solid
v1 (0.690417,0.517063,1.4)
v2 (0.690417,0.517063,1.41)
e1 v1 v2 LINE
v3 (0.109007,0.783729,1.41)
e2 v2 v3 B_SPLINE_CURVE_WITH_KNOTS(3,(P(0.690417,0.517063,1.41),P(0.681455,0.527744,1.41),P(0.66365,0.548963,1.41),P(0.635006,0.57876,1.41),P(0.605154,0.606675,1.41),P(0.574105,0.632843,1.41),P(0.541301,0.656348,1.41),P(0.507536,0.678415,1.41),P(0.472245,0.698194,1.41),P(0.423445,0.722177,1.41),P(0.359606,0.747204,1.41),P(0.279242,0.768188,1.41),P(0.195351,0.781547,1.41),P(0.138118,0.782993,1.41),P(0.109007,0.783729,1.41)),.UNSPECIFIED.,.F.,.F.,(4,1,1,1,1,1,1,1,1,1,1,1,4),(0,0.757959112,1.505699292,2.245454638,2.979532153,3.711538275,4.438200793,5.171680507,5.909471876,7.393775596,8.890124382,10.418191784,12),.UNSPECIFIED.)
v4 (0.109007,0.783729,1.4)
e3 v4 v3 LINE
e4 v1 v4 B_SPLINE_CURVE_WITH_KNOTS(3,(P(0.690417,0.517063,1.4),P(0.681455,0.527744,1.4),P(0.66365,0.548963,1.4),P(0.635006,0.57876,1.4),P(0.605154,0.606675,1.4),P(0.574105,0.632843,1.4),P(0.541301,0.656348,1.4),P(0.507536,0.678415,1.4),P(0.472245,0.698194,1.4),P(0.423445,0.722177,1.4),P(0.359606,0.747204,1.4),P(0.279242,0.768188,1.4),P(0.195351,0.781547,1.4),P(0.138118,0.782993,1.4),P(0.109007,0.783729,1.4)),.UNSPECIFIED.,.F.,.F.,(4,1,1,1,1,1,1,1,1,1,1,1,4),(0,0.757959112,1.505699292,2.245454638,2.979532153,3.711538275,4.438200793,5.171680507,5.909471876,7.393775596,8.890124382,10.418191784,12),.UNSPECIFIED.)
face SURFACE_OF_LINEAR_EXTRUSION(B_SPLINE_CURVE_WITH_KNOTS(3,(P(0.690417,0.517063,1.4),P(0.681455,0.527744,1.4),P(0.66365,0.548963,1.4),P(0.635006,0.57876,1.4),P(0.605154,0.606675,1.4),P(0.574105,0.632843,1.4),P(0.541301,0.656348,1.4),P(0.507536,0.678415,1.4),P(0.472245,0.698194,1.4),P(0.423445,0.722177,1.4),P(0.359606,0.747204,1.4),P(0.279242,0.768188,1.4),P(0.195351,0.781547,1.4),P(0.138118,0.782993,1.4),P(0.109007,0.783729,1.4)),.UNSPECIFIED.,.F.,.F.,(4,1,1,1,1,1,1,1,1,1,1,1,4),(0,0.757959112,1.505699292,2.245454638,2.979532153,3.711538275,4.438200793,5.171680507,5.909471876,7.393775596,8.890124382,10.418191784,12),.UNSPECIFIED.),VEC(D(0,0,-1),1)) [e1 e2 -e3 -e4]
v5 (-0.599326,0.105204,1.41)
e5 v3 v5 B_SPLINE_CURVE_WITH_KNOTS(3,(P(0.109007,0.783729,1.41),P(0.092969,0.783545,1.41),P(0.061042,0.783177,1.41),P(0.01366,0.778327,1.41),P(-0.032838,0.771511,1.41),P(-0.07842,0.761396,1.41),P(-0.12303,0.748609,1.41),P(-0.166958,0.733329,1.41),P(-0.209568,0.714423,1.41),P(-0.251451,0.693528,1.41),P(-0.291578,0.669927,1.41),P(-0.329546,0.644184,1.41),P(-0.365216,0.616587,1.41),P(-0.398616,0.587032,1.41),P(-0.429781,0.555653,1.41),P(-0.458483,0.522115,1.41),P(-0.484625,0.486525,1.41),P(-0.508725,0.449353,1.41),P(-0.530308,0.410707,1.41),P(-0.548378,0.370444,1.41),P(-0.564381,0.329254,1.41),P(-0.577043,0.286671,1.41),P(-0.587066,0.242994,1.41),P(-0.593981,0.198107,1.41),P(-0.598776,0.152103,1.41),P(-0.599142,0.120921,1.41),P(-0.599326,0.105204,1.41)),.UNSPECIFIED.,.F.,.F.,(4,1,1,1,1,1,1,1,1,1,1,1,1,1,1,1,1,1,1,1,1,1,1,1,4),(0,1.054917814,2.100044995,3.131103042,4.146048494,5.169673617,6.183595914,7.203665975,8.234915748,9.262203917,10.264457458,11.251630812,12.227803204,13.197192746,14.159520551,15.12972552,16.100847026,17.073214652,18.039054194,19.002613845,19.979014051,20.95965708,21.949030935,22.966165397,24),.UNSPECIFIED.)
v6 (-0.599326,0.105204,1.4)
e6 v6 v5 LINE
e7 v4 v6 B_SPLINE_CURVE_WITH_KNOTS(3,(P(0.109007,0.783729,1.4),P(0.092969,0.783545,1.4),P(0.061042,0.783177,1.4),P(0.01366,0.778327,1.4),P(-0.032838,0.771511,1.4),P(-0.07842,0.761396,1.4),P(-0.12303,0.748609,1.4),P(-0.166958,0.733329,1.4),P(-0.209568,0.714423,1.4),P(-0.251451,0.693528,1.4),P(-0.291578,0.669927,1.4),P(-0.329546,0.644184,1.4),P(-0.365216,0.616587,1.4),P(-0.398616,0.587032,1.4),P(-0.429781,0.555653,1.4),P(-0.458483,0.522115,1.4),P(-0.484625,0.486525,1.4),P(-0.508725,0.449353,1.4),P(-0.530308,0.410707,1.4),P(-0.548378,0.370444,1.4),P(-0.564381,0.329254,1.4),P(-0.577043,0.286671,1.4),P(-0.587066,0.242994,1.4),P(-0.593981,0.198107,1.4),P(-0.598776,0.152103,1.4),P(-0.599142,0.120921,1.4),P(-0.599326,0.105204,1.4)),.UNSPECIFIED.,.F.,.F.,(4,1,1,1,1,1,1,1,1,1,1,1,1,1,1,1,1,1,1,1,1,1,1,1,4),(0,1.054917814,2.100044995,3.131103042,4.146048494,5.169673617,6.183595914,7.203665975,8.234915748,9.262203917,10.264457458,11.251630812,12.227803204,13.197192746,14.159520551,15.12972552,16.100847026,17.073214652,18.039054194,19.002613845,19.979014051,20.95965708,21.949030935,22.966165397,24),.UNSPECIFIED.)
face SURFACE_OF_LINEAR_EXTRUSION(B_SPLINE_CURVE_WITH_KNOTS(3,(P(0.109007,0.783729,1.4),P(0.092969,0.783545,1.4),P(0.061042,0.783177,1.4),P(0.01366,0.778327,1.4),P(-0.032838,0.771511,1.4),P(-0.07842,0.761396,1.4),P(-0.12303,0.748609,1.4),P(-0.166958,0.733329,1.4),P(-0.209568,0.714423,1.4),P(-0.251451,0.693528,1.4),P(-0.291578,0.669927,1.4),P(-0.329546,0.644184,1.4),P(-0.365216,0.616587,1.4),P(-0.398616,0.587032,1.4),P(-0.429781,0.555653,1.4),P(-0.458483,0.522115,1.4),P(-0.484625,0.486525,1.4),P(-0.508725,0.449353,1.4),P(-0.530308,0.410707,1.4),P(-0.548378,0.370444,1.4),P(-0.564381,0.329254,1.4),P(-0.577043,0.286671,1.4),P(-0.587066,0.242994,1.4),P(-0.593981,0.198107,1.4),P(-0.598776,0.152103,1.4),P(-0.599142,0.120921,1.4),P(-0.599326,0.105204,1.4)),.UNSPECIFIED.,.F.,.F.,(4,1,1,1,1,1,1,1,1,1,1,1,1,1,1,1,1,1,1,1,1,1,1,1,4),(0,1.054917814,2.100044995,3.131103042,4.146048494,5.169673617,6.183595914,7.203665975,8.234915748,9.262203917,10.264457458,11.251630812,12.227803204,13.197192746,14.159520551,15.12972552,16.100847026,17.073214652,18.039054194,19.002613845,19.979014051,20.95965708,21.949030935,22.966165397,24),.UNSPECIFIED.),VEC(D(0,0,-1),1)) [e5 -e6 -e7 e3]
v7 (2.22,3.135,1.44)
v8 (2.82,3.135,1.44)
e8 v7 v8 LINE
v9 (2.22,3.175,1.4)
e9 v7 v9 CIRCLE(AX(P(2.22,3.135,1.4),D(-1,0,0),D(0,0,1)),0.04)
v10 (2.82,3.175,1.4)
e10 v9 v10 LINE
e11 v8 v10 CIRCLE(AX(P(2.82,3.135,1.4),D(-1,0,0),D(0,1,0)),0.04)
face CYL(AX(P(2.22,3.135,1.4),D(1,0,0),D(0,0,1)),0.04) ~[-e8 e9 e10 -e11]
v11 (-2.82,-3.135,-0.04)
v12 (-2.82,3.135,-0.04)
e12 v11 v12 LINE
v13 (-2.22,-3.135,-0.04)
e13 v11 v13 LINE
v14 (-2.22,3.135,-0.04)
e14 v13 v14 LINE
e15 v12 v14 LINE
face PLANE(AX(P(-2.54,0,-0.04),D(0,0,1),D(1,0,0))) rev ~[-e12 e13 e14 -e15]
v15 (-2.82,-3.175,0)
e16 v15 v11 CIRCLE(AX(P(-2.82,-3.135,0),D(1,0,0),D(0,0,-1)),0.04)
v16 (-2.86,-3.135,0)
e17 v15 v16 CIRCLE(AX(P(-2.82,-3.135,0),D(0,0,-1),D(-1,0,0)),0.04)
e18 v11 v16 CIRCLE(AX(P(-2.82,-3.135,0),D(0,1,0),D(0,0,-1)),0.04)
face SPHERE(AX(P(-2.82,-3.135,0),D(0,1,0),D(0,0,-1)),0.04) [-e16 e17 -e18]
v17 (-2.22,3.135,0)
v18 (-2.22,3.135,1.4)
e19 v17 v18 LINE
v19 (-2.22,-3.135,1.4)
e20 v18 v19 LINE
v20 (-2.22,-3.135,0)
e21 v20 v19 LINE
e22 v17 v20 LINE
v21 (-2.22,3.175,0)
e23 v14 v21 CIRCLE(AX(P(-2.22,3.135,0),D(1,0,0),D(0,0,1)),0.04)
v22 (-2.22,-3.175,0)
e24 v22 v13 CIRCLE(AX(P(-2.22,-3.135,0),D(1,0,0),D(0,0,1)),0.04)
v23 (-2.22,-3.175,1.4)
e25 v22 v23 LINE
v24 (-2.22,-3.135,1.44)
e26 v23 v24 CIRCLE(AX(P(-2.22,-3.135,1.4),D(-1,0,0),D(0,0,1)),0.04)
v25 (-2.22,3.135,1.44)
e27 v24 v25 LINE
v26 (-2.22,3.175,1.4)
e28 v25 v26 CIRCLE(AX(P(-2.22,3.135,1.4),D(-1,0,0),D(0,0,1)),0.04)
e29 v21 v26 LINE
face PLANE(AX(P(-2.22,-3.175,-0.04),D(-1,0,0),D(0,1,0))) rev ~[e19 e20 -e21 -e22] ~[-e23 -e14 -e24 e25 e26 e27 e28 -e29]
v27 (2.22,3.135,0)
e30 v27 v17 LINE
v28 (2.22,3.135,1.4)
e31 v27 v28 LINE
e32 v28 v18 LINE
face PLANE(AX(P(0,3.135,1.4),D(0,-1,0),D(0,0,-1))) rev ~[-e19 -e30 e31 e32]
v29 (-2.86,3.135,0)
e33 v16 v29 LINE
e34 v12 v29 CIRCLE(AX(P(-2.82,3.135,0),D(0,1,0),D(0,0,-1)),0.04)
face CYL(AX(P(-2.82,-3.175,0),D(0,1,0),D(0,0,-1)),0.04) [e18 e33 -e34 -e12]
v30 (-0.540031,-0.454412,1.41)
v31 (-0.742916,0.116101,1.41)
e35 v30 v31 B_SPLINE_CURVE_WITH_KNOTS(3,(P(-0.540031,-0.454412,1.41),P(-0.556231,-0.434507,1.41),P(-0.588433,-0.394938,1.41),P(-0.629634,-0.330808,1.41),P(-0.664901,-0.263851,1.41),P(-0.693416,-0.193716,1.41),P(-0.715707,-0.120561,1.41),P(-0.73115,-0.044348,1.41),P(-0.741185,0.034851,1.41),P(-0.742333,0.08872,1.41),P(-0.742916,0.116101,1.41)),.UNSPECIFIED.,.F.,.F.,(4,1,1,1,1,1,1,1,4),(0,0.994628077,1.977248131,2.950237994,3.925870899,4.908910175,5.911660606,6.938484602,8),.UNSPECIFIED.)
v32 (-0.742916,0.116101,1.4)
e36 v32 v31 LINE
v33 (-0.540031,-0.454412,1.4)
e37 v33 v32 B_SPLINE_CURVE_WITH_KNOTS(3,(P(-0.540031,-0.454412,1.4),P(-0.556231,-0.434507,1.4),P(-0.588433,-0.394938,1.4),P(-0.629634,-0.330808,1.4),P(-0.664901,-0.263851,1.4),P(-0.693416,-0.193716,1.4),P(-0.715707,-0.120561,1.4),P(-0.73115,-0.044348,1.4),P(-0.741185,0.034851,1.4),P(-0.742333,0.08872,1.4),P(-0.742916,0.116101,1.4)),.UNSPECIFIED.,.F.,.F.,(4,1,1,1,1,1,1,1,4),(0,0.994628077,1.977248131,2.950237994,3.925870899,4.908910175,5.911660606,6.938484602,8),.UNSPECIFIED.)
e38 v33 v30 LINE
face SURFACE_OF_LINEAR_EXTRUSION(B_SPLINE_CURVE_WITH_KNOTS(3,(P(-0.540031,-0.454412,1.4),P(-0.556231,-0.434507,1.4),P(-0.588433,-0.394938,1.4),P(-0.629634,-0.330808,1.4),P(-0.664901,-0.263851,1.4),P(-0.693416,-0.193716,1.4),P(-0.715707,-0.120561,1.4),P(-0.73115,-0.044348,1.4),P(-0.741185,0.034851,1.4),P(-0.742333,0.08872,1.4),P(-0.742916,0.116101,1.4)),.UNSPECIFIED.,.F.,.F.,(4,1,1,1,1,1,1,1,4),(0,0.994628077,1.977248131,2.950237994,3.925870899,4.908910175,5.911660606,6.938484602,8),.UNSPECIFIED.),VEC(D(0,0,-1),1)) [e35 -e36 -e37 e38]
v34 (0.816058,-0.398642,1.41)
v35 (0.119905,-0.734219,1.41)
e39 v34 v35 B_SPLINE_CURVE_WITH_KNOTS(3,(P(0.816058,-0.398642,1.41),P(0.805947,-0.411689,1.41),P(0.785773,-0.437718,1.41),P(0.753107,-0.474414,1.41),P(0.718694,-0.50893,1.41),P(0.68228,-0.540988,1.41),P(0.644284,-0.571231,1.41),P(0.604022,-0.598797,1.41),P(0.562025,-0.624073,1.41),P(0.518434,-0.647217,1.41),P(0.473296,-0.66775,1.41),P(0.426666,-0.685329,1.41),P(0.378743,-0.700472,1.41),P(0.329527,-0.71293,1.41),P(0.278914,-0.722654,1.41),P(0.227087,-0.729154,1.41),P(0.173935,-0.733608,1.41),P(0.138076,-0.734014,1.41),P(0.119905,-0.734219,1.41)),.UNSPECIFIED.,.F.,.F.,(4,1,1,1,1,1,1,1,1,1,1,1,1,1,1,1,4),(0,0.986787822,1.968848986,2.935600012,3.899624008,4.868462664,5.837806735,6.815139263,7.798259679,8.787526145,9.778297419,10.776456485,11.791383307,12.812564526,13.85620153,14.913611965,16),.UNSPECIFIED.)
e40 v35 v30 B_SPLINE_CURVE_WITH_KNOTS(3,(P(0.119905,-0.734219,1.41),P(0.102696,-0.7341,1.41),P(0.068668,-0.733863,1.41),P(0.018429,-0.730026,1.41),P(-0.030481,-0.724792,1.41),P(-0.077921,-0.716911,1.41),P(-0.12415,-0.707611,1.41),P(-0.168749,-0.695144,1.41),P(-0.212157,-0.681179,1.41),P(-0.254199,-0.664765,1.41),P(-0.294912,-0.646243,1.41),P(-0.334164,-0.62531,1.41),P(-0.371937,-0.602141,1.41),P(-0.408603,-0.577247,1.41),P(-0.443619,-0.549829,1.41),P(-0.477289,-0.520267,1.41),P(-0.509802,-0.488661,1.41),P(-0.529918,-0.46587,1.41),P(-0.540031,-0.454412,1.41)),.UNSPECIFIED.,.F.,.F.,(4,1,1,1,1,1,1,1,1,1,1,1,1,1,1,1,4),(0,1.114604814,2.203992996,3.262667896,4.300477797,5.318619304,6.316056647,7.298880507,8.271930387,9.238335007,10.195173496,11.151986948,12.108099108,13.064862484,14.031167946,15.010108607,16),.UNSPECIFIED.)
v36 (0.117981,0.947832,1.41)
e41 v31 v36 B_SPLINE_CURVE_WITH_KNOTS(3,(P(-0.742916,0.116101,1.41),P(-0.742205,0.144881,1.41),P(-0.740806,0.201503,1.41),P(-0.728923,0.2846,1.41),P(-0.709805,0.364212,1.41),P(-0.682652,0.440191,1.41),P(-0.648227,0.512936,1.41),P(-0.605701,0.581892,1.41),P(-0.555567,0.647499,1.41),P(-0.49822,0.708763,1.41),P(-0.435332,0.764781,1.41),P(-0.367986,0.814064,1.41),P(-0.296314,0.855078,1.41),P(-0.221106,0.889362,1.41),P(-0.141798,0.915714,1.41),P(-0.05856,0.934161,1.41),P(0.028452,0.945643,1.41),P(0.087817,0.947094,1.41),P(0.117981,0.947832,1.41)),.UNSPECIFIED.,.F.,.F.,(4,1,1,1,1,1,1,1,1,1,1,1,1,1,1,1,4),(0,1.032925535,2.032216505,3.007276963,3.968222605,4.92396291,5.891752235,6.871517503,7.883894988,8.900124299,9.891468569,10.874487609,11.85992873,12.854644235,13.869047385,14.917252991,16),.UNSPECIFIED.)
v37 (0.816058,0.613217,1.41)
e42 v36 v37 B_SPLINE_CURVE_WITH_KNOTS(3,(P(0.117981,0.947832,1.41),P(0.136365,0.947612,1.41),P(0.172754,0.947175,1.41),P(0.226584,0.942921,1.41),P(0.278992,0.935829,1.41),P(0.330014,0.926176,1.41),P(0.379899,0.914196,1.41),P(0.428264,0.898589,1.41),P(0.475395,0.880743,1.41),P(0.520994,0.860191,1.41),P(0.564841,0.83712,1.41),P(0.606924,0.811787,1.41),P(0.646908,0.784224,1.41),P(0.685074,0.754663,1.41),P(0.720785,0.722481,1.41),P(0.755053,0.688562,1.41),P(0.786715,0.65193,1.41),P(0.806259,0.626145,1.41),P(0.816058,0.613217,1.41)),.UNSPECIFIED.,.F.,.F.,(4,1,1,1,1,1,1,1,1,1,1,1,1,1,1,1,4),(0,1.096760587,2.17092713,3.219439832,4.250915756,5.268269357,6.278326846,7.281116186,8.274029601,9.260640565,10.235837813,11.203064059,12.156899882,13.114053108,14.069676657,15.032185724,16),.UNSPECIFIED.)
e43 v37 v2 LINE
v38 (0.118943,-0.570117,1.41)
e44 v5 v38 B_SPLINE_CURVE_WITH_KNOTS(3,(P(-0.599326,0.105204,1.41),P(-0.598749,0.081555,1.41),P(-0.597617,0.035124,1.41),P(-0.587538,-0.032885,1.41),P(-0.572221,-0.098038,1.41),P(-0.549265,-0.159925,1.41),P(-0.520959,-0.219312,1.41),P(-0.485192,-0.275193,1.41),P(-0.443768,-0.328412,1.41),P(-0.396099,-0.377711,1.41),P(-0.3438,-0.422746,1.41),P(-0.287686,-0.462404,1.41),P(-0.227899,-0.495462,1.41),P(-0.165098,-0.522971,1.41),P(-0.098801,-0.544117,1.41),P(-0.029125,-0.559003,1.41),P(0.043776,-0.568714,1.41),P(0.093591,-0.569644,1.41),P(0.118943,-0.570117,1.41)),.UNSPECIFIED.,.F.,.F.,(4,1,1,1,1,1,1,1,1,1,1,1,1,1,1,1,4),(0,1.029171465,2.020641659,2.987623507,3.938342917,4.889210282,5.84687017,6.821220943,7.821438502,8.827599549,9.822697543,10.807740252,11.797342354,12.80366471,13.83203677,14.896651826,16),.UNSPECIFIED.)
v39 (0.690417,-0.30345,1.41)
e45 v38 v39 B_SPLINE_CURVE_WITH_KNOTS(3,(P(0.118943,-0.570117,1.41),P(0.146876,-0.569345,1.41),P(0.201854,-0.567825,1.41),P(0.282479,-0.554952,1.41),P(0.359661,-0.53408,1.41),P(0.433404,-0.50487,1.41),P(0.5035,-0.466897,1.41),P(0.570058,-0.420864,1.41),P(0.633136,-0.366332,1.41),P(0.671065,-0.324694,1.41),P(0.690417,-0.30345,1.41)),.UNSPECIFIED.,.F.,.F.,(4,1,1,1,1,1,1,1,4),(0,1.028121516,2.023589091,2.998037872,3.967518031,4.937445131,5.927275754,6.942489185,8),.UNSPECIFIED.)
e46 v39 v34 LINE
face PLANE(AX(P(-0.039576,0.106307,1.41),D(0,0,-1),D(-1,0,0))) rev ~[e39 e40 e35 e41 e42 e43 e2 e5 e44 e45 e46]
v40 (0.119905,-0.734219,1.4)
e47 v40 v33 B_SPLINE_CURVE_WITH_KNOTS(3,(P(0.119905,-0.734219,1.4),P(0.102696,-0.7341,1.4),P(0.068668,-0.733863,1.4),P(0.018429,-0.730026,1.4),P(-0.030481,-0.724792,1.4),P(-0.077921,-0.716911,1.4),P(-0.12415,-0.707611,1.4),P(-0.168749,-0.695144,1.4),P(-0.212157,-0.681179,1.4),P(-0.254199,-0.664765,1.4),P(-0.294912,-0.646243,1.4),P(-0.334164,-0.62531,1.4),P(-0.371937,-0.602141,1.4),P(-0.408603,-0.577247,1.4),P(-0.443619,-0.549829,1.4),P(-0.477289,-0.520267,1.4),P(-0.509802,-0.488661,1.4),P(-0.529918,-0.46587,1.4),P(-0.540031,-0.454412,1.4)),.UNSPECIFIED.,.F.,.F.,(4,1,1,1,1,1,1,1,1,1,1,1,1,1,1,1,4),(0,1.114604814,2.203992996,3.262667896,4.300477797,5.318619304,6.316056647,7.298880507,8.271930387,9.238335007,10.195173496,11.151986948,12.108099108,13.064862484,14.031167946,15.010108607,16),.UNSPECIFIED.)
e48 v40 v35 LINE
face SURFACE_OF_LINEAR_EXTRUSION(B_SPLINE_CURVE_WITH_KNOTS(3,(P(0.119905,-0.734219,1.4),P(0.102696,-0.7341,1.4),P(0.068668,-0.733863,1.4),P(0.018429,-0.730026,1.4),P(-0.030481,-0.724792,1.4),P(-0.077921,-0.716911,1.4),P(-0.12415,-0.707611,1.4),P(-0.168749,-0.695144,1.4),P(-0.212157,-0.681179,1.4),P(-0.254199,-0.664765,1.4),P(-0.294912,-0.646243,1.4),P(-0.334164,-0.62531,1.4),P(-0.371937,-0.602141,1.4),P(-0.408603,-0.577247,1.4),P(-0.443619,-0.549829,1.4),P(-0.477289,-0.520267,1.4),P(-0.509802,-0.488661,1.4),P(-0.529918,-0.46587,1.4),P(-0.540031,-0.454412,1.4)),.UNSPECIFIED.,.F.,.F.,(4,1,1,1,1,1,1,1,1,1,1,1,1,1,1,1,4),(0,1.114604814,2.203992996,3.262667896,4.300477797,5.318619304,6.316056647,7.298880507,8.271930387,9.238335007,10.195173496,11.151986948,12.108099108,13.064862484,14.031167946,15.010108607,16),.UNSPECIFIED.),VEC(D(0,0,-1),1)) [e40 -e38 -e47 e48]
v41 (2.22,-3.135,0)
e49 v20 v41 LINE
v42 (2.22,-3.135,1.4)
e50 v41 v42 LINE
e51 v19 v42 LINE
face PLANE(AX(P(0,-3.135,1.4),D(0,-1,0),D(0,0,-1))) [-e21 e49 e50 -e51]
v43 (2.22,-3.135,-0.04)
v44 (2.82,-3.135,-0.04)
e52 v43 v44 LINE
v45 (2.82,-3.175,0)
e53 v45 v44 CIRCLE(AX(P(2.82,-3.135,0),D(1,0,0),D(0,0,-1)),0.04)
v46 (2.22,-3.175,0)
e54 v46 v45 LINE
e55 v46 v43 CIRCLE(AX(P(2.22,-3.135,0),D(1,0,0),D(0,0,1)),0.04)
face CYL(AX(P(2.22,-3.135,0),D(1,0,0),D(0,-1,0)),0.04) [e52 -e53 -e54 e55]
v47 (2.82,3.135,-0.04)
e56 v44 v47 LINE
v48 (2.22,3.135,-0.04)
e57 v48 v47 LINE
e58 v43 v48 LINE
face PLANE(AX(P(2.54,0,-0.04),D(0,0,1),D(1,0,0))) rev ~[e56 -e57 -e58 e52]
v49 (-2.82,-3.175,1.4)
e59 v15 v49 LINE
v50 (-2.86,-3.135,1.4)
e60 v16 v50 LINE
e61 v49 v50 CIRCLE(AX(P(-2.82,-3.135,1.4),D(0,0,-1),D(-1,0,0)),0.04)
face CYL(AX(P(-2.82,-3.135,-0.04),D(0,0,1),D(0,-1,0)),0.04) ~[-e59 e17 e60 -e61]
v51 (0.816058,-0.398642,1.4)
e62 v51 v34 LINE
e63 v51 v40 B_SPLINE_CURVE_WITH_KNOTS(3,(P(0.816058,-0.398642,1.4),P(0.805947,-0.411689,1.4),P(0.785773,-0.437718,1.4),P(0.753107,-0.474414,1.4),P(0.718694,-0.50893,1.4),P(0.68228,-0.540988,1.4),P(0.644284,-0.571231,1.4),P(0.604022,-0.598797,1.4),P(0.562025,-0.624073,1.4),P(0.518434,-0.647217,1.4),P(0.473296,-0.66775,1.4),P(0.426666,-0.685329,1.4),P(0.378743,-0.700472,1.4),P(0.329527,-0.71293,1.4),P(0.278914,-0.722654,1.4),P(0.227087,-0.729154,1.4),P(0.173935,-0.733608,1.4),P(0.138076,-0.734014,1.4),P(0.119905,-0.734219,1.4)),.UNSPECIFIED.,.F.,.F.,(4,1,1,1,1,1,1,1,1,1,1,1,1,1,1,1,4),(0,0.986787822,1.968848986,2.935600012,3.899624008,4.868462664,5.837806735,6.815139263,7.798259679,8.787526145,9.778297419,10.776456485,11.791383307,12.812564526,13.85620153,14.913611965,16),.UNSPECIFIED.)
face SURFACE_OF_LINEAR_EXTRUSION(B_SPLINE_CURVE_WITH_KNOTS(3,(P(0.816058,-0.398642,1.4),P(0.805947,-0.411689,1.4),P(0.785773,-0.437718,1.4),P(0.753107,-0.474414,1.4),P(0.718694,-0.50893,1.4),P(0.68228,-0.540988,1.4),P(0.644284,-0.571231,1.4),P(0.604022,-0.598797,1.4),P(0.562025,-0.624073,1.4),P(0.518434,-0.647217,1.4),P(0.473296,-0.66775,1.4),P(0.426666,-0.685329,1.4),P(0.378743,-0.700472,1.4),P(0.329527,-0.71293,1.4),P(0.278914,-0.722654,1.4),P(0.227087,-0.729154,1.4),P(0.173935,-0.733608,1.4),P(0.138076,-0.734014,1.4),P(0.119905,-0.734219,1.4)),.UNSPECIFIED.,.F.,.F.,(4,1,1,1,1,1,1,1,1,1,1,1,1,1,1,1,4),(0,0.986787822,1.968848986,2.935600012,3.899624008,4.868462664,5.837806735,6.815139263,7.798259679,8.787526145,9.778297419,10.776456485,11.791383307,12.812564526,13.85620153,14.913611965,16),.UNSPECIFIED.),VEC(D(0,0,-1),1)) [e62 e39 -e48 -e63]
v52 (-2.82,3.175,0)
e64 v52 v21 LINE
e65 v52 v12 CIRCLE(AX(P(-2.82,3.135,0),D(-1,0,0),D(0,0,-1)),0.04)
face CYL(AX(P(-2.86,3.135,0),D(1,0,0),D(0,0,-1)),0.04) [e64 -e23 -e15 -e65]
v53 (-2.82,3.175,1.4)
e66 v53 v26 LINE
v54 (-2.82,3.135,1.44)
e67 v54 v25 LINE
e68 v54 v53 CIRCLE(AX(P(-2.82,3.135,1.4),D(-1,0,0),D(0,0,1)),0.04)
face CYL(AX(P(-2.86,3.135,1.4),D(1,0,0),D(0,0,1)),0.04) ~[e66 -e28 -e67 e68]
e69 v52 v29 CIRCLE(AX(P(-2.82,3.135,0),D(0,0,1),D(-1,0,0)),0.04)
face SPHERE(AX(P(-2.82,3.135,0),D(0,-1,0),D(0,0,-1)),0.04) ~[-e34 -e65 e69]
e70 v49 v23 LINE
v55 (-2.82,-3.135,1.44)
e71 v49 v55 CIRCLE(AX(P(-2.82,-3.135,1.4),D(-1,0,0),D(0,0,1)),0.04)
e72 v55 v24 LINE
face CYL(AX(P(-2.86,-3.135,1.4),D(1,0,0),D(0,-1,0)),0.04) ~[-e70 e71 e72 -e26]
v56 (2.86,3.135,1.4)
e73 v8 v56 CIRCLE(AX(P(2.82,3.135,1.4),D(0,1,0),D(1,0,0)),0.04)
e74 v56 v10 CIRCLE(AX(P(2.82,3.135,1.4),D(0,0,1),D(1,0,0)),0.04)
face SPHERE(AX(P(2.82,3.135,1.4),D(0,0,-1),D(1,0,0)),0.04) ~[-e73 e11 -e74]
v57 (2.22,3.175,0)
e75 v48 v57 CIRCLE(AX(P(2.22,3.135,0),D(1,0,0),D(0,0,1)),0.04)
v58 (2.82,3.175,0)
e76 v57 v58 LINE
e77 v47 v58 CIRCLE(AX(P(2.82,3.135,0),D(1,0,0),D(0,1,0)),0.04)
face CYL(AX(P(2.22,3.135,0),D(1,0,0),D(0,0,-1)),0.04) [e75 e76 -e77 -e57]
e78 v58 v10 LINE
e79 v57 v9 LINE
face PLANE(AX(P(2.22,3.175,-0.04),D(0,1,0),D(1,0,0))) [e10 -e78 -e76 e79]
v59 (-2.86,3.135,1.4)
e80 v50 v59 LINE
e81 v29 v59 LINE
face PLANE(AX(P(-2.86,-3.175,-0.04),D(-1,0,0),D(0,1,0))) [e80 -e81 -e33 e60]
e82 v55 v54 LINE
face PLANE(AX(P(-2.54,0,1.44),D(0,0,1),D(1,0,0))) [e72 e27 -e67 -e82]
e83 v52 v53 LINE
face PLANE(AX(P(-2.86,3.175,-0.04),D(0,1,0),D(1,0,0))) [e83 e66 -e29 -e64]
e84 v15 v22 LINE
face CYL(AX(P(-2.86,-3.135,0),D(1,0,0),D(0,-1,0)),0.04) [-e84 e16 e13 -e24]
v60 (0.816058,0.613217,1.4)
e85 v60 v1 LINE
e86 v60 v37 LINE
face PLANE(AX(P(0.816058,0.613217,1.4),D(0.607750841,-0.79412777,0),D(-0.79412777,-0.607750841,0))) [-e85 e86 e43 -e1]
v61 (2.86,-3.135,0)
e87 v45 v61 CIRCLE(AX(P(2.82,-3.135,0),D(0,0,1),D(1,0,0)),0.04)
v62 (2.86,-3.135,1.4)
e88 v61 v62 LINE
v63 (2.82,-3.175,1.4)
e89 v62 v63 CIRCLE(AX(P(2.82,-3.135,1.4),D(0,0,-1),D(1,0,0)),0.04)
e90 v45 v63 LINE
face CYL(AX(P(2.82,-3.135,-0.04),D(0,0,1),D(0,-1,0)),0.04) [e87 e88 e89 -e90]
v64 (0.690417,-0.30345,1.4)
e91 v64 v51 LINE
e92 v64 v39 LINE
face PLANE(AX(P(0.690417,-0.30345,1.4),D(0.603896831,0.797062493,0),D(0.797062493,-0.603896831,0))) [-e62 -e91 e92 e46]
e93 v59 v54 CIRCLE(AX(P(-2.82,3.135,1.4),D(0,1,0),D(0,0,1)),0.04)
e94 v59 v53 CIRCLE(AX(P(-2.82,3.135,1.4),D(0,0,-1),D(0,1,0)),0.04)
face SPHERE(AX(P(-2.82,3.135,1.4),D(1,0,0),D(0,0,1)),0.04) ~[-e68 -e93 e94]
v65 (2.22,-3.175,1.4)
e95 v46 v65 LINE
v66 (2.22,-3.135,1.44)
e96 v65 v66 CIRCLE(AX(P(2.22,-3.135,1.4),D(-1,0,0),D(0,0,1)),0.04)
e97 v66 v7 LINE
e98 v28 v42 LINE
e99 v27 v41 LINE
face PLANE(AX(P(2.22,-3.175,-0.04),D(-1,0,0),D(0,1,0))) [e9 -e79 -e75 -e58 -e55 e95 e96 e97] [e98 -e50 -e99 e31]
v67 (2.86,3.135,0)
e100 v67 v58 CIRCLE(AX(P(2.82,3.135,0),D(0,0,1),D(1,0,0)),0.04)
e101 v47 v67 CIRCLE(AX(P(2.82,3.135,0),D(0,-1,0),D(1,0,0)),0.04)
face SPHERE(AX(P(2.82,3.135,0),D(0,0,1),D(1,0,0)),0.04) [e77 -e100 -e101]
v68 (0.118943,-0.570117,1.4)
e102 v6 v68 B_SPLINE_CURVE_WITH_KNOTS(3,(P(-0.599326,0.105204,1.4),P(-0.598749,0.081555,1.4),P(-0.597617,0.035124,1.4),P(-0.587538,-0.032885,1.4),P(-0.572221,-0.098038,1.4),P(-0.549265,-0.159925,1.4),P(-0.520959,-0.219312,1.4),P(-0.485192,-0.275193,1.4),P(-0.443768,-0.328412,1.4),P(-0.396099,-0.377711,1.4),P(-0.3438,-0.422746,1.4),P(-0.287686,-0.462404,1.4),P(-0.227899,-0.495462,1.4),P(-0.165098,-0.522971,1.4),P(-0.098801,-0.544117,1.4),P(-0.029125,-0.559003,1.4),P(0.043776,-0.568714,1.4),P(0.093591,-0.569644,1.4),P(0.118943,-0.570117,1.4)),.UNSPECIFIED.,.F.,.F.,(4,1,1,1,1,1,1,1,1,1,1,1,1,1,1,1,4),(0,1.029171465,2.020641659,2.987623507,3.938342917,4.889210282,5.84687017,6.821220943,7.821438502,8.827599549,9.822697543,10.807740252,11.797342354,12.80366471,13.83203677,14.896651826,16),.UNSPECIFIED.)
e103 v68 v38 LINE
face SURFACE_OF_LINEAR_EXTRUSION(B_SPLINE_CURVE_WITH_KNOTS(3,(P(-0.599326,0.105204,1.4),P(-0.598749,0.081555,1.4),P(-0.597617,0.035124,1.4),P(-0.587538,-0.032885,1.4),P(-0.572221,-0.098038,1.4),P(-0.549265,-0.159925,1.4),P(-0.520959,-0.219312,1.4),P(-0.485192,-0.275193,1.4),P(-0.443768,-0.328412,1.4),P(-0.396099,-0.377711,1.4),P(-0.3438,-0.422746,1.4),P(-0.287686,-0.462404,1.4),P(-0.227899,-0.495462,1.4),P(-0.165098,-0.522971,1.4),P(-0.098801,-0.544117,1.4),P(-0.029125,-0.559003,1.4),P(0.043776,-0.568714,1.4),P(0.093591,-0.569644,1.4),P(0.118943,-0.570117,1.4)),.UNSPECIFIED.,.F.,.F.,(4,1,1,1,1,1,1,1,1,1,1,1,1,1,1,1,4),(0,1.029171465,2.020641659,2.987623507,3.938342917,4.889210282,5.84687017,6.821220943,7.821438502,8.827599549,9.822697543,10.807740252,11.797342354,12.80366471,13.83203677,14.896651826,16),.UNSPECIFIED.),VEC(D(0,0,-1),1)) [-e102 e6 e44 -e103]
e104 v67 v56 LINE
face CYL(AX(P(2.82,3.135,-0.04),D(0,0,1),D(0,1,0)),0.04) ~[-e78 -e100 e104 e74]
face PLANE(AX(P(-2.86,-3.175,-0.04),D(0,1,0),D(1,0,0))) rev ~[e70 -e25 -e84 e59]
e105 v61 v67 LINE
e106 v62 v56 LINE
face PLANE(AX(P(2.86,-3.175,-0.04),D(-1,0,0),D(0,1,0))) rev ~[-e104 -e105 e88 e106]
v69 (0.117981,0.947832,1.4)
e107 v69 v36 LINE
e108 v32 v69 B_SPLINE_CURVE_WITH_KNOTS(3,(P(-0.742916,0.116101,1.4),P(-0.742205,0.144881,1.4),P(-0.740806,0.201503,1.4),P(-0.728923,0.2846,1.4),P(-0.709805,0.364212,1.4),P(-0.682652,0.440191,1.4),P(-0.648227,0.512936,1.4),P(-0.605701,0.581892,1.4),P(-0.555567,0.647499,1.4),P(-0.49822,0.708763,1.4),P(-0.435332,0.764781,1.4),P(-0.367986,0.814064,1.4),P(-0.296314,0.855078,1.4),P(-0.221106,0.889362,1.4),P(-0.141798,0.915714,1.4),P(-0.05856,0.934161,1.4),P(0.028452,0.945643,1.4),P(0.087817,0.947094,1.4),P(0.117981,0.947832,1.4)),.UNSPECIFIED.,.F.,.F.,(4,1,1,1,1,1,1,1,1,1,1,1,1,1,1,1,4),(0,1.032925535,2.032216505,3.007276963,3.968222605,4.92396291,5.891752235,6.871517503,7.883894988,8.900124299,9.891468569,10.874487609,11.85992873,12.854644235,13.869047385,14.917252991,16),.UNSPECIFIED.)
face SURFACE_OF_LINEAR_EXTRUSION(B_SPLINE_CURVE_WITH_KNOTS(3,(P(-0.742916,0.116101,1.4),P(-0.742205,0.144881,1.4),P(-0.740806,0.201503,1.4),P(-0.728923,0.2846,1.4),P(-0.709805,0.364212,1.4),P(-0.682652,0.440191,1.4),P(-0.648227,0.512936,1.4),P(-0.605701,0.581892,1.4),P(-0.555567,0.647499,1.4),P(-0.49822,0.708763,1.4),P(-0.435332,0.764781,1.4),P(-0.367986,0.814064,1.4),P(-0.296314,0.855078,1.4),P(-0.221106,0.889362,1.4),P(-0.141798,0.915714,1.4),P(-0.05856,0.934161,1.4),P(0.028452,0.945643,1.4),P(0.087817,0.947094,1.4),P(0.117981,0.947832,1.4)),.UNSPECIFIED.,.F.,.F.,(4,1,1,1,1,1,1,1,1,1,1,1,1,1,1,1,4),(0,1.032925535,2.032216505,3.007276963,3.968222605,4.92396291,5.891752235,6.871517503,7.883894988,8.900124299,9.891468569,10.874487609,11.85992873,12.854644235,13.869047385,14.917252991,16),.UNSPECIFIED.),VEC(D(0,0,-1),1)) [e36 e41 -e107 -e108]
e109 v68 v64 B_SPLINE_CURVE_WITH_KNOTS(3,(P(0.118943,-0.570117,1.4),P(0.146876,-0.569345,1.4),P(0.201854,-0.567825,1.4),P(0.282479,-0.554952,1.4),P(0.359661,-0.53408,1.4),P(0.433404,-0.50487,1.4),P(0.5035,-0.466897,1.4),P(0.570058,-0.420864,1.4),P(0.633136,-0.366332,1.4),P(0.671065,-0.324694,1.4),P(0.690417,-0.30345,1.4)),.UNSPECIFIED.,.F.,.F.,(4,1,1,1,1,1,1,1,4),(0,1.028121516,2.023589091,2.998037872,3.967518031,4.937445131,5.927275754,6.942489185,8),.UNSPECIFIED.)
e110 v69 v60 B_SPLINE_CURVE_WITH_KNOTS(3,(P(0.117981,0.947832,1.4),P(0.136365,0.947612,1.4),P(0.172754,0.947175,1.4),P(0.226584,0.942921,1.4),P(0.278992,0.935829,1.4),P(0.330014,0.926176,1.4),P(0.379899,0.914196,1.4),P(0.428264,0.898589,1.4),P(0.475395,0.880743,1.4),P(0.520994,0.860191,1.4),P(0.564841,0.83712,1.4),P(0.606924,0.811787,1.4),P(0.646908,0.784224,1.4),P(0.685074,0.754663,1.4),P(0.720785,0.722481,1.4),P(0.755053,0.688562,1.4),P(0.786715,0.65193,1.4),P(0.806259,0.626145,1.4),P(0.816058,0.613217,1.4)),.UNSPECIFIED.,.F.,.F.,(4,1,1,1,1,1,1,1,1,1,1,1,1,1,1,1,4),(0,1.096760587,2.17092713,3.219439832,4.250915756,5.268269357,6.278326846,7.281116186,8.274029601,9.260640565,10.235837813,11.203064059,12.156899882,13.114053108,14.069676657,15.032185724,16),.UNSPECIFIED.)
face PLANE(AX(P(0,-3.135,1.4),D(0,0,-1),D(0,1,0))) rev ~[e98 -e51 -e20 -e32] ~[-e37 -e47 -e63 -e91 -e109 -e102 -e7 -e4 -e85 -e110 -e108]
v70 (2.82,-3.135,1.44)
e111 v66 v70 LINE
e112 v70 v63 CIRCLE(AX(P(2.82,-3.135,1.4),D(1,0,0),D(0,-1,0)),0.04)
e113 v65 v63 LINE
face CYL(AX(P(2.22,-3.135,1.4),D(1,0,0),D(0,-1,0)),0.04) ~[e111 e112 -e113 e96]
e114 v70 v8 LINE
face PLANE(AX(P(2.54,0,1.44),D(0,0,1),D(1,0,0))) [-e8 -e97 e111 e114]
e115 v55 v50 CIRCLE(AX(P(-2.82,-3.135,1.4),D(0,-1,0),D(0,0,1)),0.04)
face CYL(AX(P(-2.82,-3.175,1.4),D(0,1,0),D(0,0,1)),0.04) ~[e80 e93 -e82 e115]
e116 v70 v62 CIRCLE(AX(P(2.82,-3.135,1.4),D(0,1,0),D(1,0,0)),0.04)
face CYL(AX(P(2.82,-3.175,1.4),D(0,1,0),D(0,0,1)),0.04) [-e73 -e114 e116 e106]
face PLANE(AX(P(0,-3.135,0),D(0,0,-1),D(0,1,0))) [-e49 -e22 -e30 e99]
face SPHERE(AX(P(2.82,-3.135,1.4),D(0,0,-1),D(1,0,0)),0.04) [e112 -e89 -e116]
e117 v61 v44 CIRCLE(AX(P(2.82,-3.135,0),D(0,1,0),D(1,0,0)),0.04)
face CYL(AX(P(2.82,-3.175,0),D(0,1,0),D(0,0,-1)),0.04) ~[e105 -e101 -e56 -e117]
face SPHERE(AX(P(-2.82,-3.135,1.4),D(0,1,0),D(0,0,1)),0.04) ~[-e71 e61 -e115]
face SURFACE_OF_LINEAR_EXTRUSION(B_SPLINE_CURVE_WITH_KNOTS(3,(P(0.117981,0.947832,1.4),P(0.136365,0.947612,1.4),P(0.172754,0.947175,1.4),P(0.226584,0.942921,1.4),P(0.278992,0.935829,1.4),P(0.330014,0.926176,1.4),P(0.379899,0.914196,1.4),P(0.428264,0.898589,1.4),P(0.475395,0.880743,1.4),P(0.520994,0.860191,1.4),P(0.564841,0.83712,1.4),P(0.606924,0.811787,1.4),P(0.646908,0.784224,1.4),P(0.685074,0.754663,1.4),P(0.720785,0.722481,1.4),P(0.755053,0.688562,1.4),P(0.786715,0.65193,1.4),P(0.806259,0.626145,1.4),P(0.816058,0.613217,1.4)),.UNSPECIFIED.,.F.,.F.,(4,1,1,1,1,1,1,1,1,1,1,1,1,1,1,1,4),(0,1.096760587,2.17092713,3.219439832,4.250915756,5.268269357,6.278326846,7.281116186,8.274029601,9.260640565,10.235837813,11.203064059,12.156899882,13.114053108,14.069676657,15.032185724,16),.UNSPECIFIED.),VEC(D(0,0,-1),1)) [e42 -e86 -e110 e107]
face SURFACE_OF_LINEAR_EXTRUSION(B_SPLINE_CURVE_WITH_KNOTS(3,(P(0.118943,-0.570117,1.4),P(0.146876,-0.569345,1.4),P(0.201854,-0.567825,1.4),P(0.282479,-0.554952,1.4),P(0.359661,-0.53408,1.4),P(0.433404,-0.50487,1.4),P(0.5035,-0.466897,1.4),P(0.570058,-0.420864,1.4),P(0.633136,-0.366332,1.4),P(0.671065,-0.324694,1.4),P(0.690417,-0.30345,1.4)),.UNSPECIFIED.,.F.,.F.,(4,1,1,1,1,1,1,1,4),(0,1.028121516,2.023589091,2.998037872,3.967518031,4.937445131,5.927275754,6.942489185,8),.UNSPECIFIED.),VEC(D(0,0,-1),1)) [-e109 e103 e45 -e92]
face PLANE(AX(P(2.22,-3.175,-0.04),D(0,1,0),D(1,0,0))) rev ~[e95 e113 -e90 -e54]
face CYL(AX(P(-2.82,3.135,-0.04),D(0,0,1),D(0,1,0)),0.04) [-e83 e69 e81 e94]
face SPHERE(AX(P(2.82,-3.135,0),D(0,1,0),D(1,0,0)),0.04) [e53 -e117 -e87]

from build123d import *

# Parameters (mm, degrees)
EXTRUDE_1_DEPTH        = 1.44
EXTRUDE_1_DEPTH_BACK   = 0.04
SKETCH_3_W             = 0.64
SKETCH_3_H             = 6.35
EXTRUDE_1_2_DEPTH      = 1.44
EXTRUDE_1_2_DEPTH_BACK = 0.04
SKETCH_5_W             = 1.4
SKETCH_5_H             = 6.27
EXTRUDE_3_DEPTH        = 2.28
FILLET_3_R             = 0.04
EXTRUDE_4_DEPTH        = 0.01


with BuildPart() as part:
    # 草图3 → 凸台-拉伸1 (new, two sides: drawn at the far end of the back side and taken through both)
    with BuildSketch(Plane.XY.offset(-EXTRUDE_1_DEPTH_BACK)):
        with Locations((-2.54, 0)):
            Rectangle(SKETCH_3_W, SKETCH_3_H)
    extrude(amount=EXTRUDE_1_DEPTH + EXTRUDE_1_DEPTH_BACK)



with BuildPart() as body_2:
    # 草图3 → Extrude 1 2 (new, two sides: drawn at the far end of the back side and taken through both)
    with BuildSketch(Plane.XY.offset(-EXTRUDE_1_2_DEPTH_BACK)):
        with Locations((2.54, 0)):
            Rectangle(SKETCH_3_W, SKETCH_3_H)
    extrude(amount=EXTRUDE_1_2_DEPTH + EXTRUDE_1_2_DEPTH_BACK)


with BuildPart() as part_1:
    add(part.part)

    add(body_2.part)  # 凸台-拉伸3 merges body 2
    # 草图5 → 凸台-拉伸3 (add, symmetric)
    with BuildSketch(Plane(origin=(0, 0, 0), x_dir=(0, 0, -1), z_dir=(1, 0, 0))):
        with Locations((-0.7, 0)):
            Rectangle(SKETCH_5_W, SKETCH_5_H)
    extrude(amount=EXTRUDE_3_DEPTH, both=True)

    # 圆角3
    fillet_3_edges = [part_1.edges().sort_by_distance(p)[0] for p in [
        (-2.86, 0, -0.04),
        (-2.54, 3.175, 1.44),
        (-2.54, -3.175, -0.04),
        (-2.86, 0, 1.44),
        (-2.54, -3.175, 1.44),
        (2.86, 3.175, 0.7),
        (2.86, 0, -0.04),
        (2.86, -3.175, 0.7),
        (2.54, -3.175, -0.04),
        (2.54, 3.175, -0.04),
        (2.86, 0, 1.44),
        (2.54, 3.175, 1.44),
        (2.54, -3.175, 1.44),
        (-2.54, 3.175, -0.04),
        (-2.86, -3.175, 0.7),
        (-2.86, 3.175, 0.7),
    ]]
    fillet(fillet_3_edges, radius=FILLET_3_R)

    # 草图6 → 凸台-拉伸4 (add)
    with BuildSketch(Plane.XY.offset(1.4)):
        with BuildLine():
            Line((0.816058378, 0.613216546), (0.690417352, 0.5170627))
            add(Edge.make_bspline(
                [(0.690417352, 0.5170627), (0.681454661, 0.527744286), (0.663650113, 0.548963447), (0.635005907, 0.578759811), (0.605153727, 0.606675359), (0.574104986, 0.632843075), (0.541300817, 0.656347882), (0.50753588, 0.678414672), (0.472245345, 0.69819421), (0.423444553, 0.722177289), (0.359605536, 0.747204103), (0.279242181, 0.768188437), (0.195351393, 0.781546689), (0.138118205, 0.782993473), (0.109007096, 0.783729366)],
                knots=[0, 0, 0, 0, 0.757959112, 1.505699292, 2.245454638, 2.979532153, 3.711538275, 4.438200793, 5.171680507, 5.909471876, 7.393775596, 8.890124382, 10.418191784, 12, 12, 12, 12], degree=3))
            add(Edge.make_bspline(
                [(0.109007096, 0.783729366), (0.092969016, 0.783544698), (0.061041705, 0.783177075), (0.013659546, 0.778327189), (-0.032837849, 0.771510636), (-0.078420233, 0.761396202), (-0.123029586, 0.748608719), (-0.166957541, 0.73332853), (-0.209568101, 0.71442346), (-0.251450724, 0.693528256), (-0.291578363, 0.669927138), (-0.329546385, 0.644183892), (-0.365216313, 0.61658659), (-0.398616365, 0.587031799), (-0.429780684, 0.555652617), (-0.458483455, 0.522114632), (-0.484625356, 0.486525067), (-0.508724568, 0.449353224), (-0.530307532, 0.410707376), (-0.548378334, 0.370444487), (-0.564380675, 0.32925404), (-0.577043186, 0.286670652), (-0.587065822, 0.242993959), (-0.593981326, 0.198106742), (-0.598776055, 0.152102774), (-0.59914185, 0.120921374), (-0.599326237, 0.105203725)],
                knots=[0, 0, 0, 0, 1.054917814, 2.100044995, 3.131103042, 4.146048494, 5.169673617, 6.183595914, 7.203665975, 8.234915748, 9.262203917, 10.264457458, 11.251630812, 12.227803204, 13.197192746, 14.159520551, 15.12972552, 16.100847026, 17.073214652, 18.039054194, 19.002613845, 19.979014051, 20.95965708, 21.949030935, 22.966165397, 24, 24, 24, 24], degree=3))
            add(Edge.make_bspline(
                [(-0.599326237, 0.105203725), (-0.598749406, 0.081555122), (-0.597616874, 0.035124226), (-0.587537635, -0.032885196), (-0.572221022, -0.098037504), (-0.54926533, -0.159925432), (-0.520959478, -0.21931211), (-0.485192341, -0.275192728), (-0.443767638, -0.328411729), (-0.396099332, -0.377711363), (-0.343799531, -0.422746208), (-0.2876862, -0.462403617), (-0.227899097, -0.495461849), (-0.165098352, -0.522970853), (-0.0988007, -0.544116786), (-0.029125361, -0.559003242), (0.043776122, -0.568713953), (0.093590705, -0.569643639), (0.118942993, -0.570116787)],
                knots=[0, 0, 0, 0, 1.029171465, 2.020641659, 2.987623507, 3.938342917, 4.889210282, 5.84687017, 6.821220943, 7.821438502, 8.827599549, 9.822697543, 10.807740252, 11.797342354, 12.80366471, 13.83203677, 14.896651826, 16, 16, 16, 16], degree=3))
            add(Edge.make_bspline(
                [(0.118942993, -0.570116787), (0.146875651, -0.569344774), (0.201853804, -0.567825266), (0.282479187, -0.554952467), (0.359661252, -0.534080276), (0.433404148, -0.504869797), (0.503499987, -0.466897094), (0.57005846, -0.420863779), (0.633135749, -0.366331969), (0.671065478, -0.324693968), (0.690417352, -0.303450121)],
                knots=[0, 0, 0, 0, 1.028121516, 2.023589091, 2.998037872, 3.967518031, 4.937445131, 5.927275754, 6.942489185, 8, 8, 8, 8], degree=3))
            Line((0.690417352, -0.303450121), (0.816058378, -0.398642428))
            add(Edge.make_bspline(
                [(0.816058378, -0.398642428), (0.805947242, -0.411688578), (0.785773402, -0.437718386), (0.75310688, -0.474414025), (0.718694401, -0.508930156), (0.682280362, -0.540988497), (0.644283658, -0.571230538), (0.604022029, -0.59879709), (0.562024757, -0.624072923), (0.518434138, -0.647216659), (0.473296487, -0.667750258), (0.426665888, -0.685329123), (0.378743339, -0.70047193), (0.329526649, -0.712929958), (0.278913732, -0.722653882), (0.22708723, -0.729154305), (0.173935287, -0.733607752), (0.138076351, -0.734013656), (0.119904532, -0.734219352)],
                knots=[0, 0, 0, 0, 0.986787822, 1.968848986, 2.935600012, 3.899624008, 4.868462664, 5.837806735, 6.815139263, 7.798259679, 8.787526145, 9.778297419, 10.776456485, 11.791383307, 12.812564526, 13.85620153, 14.913611965, 16, 16, 16, 16], degree=3))
            add(Edge.make_bspline(
                [(0.119904532, -0.734219352), (0.102695998, -0.734099583), (0.068668254, -0.733862757), (0.018428825, -0.730026338), (-0.030480698, -0.724792172), (-0.077920527, -0.716910969), (-0.124149544, -0.7076107), (-0.168748668, -0.69514384), (-0.212156764, -0.681178506), (-0.254199434, -0.664764798), (-0.29491244, -0.646243115), (-0.334164468, -0.62530983), (-0.371937466, -0.602140978), (-0.408602801, -0.577247259), (-0.443618839, -0.549829064), (-0.477289022, -0.520267174), (-0.509802154, -0.488661226), (-0.529917667, -0.465870436), (-0.540031366, -0.454411659)],
                knots=[0, 0, 0, 0, 1.114604814, 2.203992996, 3.262667896, 4.300477797, 5.318619304, 6.316056647, 7.298880507, 8.271930387, 9.238335007, 10.195173496, 11.151986948, 12.108099108, 13.064862484, 14.031167946, 15.010108607, 16, 16, 16, 16], degree=3))
            add(Edge.make_bspline(
                [(-0.540031366, -0.454411659), (-0.556230517, -0.434507116), (-0.588433249, -0.394938334), (-0.629633562, -0.3308076), (-0.664901015, -0.263850704), (-0.693415722, -0.193715879), (-0.715707257, -0.120560502), (-0.731150089, -0.044347696), (-0.741185108, 0.034851363), (-0.742332669, 0.08871961), (-0.742915981, 0.116101161)],
                knots=[0, 0, 0, 0, 0.994628077, 1.977248131, 2.950237994, 3.925870899, 4.908910175, 5.911660606, 6.938484602, 8, 8, 8, 8], degree=3))
            add(Edge.make_bspline(
                [(-0.742915981, 0.116101161), (-0.742205035, 0.144880797), (-0.740806294, 0.201502934), (-0.728922502, 0.284599599), (-0.709805338, 0.364211667), (-0.682652475, 0.440190521), (-0.648227171, 0.512935792), (-0.605700719, 0.581891772), (-0.555567168, 0.647499451), (-0.498219709, 0.708763338), (-0.435331784, 0.764781327), (-0.367986041, 0.814064163), (-0.296314293, 0.855077885), (-0.221106133, 0.889361845), (-0.141798393, 0.9157136), (-0.058560281, 0.934160771), (0.028451794, 0.945642881), (0.087817475, 0.947094405), (0.117981455, 0.947831931)],
                knots=[0, 0, 0, 0, 1.032925535, 2.032216505, 3.007276963, 3.968222605, 4.92396291, 5.891752235, 6.871517503, 7.883894988, 8.900124299, 9.891468569, 10.874487609, 11.85992873, 12.854644235, 13.869047385, 14.917252991, 16, 16, 16, 16], degree=3))
            add(Edge.make_bspline(
                [(0.117981455, 0.947831931), (0.136365214, 0.947611525), (0.172754012, 0.947175253), (0.226583796, 0.942921017), (0.278991717, 0.935829082), (0.33001388, 0.926176022), (0.379898505, 0.914195532), (0.428264329, 0.898588538), (0.475395158, 0.880743267), (0.520993744, 0.860190825), (0.56484131, 0.837120315), (0.606924198, 0.811787459), (0.646908134, 0.784223662), (0.685074465, 0.754663353), (0.720784733, 0.722481155), (0.755052837, 0.688562254), (0.786715044, 0.651929648), (0.806259362, 0.626144536), (0.816058378, 0.613216546)],
                knots=[0, 0, 0, 0, 1.096760587, 2.17092713, 3.219439832, 4.250915756, 5.268269357, 6.278326846, 7.281116186, 8.274029601, 9.260640565, 10.235837813, 11.203064059, 12.156899882, 13.114053108, 14.069676657, 15.032185724, 16, 16, 16, 16], degree=3))
        make_face()
    extrude(amount=EXTRUDE_4_DEPTH)


solid = part_1.part
